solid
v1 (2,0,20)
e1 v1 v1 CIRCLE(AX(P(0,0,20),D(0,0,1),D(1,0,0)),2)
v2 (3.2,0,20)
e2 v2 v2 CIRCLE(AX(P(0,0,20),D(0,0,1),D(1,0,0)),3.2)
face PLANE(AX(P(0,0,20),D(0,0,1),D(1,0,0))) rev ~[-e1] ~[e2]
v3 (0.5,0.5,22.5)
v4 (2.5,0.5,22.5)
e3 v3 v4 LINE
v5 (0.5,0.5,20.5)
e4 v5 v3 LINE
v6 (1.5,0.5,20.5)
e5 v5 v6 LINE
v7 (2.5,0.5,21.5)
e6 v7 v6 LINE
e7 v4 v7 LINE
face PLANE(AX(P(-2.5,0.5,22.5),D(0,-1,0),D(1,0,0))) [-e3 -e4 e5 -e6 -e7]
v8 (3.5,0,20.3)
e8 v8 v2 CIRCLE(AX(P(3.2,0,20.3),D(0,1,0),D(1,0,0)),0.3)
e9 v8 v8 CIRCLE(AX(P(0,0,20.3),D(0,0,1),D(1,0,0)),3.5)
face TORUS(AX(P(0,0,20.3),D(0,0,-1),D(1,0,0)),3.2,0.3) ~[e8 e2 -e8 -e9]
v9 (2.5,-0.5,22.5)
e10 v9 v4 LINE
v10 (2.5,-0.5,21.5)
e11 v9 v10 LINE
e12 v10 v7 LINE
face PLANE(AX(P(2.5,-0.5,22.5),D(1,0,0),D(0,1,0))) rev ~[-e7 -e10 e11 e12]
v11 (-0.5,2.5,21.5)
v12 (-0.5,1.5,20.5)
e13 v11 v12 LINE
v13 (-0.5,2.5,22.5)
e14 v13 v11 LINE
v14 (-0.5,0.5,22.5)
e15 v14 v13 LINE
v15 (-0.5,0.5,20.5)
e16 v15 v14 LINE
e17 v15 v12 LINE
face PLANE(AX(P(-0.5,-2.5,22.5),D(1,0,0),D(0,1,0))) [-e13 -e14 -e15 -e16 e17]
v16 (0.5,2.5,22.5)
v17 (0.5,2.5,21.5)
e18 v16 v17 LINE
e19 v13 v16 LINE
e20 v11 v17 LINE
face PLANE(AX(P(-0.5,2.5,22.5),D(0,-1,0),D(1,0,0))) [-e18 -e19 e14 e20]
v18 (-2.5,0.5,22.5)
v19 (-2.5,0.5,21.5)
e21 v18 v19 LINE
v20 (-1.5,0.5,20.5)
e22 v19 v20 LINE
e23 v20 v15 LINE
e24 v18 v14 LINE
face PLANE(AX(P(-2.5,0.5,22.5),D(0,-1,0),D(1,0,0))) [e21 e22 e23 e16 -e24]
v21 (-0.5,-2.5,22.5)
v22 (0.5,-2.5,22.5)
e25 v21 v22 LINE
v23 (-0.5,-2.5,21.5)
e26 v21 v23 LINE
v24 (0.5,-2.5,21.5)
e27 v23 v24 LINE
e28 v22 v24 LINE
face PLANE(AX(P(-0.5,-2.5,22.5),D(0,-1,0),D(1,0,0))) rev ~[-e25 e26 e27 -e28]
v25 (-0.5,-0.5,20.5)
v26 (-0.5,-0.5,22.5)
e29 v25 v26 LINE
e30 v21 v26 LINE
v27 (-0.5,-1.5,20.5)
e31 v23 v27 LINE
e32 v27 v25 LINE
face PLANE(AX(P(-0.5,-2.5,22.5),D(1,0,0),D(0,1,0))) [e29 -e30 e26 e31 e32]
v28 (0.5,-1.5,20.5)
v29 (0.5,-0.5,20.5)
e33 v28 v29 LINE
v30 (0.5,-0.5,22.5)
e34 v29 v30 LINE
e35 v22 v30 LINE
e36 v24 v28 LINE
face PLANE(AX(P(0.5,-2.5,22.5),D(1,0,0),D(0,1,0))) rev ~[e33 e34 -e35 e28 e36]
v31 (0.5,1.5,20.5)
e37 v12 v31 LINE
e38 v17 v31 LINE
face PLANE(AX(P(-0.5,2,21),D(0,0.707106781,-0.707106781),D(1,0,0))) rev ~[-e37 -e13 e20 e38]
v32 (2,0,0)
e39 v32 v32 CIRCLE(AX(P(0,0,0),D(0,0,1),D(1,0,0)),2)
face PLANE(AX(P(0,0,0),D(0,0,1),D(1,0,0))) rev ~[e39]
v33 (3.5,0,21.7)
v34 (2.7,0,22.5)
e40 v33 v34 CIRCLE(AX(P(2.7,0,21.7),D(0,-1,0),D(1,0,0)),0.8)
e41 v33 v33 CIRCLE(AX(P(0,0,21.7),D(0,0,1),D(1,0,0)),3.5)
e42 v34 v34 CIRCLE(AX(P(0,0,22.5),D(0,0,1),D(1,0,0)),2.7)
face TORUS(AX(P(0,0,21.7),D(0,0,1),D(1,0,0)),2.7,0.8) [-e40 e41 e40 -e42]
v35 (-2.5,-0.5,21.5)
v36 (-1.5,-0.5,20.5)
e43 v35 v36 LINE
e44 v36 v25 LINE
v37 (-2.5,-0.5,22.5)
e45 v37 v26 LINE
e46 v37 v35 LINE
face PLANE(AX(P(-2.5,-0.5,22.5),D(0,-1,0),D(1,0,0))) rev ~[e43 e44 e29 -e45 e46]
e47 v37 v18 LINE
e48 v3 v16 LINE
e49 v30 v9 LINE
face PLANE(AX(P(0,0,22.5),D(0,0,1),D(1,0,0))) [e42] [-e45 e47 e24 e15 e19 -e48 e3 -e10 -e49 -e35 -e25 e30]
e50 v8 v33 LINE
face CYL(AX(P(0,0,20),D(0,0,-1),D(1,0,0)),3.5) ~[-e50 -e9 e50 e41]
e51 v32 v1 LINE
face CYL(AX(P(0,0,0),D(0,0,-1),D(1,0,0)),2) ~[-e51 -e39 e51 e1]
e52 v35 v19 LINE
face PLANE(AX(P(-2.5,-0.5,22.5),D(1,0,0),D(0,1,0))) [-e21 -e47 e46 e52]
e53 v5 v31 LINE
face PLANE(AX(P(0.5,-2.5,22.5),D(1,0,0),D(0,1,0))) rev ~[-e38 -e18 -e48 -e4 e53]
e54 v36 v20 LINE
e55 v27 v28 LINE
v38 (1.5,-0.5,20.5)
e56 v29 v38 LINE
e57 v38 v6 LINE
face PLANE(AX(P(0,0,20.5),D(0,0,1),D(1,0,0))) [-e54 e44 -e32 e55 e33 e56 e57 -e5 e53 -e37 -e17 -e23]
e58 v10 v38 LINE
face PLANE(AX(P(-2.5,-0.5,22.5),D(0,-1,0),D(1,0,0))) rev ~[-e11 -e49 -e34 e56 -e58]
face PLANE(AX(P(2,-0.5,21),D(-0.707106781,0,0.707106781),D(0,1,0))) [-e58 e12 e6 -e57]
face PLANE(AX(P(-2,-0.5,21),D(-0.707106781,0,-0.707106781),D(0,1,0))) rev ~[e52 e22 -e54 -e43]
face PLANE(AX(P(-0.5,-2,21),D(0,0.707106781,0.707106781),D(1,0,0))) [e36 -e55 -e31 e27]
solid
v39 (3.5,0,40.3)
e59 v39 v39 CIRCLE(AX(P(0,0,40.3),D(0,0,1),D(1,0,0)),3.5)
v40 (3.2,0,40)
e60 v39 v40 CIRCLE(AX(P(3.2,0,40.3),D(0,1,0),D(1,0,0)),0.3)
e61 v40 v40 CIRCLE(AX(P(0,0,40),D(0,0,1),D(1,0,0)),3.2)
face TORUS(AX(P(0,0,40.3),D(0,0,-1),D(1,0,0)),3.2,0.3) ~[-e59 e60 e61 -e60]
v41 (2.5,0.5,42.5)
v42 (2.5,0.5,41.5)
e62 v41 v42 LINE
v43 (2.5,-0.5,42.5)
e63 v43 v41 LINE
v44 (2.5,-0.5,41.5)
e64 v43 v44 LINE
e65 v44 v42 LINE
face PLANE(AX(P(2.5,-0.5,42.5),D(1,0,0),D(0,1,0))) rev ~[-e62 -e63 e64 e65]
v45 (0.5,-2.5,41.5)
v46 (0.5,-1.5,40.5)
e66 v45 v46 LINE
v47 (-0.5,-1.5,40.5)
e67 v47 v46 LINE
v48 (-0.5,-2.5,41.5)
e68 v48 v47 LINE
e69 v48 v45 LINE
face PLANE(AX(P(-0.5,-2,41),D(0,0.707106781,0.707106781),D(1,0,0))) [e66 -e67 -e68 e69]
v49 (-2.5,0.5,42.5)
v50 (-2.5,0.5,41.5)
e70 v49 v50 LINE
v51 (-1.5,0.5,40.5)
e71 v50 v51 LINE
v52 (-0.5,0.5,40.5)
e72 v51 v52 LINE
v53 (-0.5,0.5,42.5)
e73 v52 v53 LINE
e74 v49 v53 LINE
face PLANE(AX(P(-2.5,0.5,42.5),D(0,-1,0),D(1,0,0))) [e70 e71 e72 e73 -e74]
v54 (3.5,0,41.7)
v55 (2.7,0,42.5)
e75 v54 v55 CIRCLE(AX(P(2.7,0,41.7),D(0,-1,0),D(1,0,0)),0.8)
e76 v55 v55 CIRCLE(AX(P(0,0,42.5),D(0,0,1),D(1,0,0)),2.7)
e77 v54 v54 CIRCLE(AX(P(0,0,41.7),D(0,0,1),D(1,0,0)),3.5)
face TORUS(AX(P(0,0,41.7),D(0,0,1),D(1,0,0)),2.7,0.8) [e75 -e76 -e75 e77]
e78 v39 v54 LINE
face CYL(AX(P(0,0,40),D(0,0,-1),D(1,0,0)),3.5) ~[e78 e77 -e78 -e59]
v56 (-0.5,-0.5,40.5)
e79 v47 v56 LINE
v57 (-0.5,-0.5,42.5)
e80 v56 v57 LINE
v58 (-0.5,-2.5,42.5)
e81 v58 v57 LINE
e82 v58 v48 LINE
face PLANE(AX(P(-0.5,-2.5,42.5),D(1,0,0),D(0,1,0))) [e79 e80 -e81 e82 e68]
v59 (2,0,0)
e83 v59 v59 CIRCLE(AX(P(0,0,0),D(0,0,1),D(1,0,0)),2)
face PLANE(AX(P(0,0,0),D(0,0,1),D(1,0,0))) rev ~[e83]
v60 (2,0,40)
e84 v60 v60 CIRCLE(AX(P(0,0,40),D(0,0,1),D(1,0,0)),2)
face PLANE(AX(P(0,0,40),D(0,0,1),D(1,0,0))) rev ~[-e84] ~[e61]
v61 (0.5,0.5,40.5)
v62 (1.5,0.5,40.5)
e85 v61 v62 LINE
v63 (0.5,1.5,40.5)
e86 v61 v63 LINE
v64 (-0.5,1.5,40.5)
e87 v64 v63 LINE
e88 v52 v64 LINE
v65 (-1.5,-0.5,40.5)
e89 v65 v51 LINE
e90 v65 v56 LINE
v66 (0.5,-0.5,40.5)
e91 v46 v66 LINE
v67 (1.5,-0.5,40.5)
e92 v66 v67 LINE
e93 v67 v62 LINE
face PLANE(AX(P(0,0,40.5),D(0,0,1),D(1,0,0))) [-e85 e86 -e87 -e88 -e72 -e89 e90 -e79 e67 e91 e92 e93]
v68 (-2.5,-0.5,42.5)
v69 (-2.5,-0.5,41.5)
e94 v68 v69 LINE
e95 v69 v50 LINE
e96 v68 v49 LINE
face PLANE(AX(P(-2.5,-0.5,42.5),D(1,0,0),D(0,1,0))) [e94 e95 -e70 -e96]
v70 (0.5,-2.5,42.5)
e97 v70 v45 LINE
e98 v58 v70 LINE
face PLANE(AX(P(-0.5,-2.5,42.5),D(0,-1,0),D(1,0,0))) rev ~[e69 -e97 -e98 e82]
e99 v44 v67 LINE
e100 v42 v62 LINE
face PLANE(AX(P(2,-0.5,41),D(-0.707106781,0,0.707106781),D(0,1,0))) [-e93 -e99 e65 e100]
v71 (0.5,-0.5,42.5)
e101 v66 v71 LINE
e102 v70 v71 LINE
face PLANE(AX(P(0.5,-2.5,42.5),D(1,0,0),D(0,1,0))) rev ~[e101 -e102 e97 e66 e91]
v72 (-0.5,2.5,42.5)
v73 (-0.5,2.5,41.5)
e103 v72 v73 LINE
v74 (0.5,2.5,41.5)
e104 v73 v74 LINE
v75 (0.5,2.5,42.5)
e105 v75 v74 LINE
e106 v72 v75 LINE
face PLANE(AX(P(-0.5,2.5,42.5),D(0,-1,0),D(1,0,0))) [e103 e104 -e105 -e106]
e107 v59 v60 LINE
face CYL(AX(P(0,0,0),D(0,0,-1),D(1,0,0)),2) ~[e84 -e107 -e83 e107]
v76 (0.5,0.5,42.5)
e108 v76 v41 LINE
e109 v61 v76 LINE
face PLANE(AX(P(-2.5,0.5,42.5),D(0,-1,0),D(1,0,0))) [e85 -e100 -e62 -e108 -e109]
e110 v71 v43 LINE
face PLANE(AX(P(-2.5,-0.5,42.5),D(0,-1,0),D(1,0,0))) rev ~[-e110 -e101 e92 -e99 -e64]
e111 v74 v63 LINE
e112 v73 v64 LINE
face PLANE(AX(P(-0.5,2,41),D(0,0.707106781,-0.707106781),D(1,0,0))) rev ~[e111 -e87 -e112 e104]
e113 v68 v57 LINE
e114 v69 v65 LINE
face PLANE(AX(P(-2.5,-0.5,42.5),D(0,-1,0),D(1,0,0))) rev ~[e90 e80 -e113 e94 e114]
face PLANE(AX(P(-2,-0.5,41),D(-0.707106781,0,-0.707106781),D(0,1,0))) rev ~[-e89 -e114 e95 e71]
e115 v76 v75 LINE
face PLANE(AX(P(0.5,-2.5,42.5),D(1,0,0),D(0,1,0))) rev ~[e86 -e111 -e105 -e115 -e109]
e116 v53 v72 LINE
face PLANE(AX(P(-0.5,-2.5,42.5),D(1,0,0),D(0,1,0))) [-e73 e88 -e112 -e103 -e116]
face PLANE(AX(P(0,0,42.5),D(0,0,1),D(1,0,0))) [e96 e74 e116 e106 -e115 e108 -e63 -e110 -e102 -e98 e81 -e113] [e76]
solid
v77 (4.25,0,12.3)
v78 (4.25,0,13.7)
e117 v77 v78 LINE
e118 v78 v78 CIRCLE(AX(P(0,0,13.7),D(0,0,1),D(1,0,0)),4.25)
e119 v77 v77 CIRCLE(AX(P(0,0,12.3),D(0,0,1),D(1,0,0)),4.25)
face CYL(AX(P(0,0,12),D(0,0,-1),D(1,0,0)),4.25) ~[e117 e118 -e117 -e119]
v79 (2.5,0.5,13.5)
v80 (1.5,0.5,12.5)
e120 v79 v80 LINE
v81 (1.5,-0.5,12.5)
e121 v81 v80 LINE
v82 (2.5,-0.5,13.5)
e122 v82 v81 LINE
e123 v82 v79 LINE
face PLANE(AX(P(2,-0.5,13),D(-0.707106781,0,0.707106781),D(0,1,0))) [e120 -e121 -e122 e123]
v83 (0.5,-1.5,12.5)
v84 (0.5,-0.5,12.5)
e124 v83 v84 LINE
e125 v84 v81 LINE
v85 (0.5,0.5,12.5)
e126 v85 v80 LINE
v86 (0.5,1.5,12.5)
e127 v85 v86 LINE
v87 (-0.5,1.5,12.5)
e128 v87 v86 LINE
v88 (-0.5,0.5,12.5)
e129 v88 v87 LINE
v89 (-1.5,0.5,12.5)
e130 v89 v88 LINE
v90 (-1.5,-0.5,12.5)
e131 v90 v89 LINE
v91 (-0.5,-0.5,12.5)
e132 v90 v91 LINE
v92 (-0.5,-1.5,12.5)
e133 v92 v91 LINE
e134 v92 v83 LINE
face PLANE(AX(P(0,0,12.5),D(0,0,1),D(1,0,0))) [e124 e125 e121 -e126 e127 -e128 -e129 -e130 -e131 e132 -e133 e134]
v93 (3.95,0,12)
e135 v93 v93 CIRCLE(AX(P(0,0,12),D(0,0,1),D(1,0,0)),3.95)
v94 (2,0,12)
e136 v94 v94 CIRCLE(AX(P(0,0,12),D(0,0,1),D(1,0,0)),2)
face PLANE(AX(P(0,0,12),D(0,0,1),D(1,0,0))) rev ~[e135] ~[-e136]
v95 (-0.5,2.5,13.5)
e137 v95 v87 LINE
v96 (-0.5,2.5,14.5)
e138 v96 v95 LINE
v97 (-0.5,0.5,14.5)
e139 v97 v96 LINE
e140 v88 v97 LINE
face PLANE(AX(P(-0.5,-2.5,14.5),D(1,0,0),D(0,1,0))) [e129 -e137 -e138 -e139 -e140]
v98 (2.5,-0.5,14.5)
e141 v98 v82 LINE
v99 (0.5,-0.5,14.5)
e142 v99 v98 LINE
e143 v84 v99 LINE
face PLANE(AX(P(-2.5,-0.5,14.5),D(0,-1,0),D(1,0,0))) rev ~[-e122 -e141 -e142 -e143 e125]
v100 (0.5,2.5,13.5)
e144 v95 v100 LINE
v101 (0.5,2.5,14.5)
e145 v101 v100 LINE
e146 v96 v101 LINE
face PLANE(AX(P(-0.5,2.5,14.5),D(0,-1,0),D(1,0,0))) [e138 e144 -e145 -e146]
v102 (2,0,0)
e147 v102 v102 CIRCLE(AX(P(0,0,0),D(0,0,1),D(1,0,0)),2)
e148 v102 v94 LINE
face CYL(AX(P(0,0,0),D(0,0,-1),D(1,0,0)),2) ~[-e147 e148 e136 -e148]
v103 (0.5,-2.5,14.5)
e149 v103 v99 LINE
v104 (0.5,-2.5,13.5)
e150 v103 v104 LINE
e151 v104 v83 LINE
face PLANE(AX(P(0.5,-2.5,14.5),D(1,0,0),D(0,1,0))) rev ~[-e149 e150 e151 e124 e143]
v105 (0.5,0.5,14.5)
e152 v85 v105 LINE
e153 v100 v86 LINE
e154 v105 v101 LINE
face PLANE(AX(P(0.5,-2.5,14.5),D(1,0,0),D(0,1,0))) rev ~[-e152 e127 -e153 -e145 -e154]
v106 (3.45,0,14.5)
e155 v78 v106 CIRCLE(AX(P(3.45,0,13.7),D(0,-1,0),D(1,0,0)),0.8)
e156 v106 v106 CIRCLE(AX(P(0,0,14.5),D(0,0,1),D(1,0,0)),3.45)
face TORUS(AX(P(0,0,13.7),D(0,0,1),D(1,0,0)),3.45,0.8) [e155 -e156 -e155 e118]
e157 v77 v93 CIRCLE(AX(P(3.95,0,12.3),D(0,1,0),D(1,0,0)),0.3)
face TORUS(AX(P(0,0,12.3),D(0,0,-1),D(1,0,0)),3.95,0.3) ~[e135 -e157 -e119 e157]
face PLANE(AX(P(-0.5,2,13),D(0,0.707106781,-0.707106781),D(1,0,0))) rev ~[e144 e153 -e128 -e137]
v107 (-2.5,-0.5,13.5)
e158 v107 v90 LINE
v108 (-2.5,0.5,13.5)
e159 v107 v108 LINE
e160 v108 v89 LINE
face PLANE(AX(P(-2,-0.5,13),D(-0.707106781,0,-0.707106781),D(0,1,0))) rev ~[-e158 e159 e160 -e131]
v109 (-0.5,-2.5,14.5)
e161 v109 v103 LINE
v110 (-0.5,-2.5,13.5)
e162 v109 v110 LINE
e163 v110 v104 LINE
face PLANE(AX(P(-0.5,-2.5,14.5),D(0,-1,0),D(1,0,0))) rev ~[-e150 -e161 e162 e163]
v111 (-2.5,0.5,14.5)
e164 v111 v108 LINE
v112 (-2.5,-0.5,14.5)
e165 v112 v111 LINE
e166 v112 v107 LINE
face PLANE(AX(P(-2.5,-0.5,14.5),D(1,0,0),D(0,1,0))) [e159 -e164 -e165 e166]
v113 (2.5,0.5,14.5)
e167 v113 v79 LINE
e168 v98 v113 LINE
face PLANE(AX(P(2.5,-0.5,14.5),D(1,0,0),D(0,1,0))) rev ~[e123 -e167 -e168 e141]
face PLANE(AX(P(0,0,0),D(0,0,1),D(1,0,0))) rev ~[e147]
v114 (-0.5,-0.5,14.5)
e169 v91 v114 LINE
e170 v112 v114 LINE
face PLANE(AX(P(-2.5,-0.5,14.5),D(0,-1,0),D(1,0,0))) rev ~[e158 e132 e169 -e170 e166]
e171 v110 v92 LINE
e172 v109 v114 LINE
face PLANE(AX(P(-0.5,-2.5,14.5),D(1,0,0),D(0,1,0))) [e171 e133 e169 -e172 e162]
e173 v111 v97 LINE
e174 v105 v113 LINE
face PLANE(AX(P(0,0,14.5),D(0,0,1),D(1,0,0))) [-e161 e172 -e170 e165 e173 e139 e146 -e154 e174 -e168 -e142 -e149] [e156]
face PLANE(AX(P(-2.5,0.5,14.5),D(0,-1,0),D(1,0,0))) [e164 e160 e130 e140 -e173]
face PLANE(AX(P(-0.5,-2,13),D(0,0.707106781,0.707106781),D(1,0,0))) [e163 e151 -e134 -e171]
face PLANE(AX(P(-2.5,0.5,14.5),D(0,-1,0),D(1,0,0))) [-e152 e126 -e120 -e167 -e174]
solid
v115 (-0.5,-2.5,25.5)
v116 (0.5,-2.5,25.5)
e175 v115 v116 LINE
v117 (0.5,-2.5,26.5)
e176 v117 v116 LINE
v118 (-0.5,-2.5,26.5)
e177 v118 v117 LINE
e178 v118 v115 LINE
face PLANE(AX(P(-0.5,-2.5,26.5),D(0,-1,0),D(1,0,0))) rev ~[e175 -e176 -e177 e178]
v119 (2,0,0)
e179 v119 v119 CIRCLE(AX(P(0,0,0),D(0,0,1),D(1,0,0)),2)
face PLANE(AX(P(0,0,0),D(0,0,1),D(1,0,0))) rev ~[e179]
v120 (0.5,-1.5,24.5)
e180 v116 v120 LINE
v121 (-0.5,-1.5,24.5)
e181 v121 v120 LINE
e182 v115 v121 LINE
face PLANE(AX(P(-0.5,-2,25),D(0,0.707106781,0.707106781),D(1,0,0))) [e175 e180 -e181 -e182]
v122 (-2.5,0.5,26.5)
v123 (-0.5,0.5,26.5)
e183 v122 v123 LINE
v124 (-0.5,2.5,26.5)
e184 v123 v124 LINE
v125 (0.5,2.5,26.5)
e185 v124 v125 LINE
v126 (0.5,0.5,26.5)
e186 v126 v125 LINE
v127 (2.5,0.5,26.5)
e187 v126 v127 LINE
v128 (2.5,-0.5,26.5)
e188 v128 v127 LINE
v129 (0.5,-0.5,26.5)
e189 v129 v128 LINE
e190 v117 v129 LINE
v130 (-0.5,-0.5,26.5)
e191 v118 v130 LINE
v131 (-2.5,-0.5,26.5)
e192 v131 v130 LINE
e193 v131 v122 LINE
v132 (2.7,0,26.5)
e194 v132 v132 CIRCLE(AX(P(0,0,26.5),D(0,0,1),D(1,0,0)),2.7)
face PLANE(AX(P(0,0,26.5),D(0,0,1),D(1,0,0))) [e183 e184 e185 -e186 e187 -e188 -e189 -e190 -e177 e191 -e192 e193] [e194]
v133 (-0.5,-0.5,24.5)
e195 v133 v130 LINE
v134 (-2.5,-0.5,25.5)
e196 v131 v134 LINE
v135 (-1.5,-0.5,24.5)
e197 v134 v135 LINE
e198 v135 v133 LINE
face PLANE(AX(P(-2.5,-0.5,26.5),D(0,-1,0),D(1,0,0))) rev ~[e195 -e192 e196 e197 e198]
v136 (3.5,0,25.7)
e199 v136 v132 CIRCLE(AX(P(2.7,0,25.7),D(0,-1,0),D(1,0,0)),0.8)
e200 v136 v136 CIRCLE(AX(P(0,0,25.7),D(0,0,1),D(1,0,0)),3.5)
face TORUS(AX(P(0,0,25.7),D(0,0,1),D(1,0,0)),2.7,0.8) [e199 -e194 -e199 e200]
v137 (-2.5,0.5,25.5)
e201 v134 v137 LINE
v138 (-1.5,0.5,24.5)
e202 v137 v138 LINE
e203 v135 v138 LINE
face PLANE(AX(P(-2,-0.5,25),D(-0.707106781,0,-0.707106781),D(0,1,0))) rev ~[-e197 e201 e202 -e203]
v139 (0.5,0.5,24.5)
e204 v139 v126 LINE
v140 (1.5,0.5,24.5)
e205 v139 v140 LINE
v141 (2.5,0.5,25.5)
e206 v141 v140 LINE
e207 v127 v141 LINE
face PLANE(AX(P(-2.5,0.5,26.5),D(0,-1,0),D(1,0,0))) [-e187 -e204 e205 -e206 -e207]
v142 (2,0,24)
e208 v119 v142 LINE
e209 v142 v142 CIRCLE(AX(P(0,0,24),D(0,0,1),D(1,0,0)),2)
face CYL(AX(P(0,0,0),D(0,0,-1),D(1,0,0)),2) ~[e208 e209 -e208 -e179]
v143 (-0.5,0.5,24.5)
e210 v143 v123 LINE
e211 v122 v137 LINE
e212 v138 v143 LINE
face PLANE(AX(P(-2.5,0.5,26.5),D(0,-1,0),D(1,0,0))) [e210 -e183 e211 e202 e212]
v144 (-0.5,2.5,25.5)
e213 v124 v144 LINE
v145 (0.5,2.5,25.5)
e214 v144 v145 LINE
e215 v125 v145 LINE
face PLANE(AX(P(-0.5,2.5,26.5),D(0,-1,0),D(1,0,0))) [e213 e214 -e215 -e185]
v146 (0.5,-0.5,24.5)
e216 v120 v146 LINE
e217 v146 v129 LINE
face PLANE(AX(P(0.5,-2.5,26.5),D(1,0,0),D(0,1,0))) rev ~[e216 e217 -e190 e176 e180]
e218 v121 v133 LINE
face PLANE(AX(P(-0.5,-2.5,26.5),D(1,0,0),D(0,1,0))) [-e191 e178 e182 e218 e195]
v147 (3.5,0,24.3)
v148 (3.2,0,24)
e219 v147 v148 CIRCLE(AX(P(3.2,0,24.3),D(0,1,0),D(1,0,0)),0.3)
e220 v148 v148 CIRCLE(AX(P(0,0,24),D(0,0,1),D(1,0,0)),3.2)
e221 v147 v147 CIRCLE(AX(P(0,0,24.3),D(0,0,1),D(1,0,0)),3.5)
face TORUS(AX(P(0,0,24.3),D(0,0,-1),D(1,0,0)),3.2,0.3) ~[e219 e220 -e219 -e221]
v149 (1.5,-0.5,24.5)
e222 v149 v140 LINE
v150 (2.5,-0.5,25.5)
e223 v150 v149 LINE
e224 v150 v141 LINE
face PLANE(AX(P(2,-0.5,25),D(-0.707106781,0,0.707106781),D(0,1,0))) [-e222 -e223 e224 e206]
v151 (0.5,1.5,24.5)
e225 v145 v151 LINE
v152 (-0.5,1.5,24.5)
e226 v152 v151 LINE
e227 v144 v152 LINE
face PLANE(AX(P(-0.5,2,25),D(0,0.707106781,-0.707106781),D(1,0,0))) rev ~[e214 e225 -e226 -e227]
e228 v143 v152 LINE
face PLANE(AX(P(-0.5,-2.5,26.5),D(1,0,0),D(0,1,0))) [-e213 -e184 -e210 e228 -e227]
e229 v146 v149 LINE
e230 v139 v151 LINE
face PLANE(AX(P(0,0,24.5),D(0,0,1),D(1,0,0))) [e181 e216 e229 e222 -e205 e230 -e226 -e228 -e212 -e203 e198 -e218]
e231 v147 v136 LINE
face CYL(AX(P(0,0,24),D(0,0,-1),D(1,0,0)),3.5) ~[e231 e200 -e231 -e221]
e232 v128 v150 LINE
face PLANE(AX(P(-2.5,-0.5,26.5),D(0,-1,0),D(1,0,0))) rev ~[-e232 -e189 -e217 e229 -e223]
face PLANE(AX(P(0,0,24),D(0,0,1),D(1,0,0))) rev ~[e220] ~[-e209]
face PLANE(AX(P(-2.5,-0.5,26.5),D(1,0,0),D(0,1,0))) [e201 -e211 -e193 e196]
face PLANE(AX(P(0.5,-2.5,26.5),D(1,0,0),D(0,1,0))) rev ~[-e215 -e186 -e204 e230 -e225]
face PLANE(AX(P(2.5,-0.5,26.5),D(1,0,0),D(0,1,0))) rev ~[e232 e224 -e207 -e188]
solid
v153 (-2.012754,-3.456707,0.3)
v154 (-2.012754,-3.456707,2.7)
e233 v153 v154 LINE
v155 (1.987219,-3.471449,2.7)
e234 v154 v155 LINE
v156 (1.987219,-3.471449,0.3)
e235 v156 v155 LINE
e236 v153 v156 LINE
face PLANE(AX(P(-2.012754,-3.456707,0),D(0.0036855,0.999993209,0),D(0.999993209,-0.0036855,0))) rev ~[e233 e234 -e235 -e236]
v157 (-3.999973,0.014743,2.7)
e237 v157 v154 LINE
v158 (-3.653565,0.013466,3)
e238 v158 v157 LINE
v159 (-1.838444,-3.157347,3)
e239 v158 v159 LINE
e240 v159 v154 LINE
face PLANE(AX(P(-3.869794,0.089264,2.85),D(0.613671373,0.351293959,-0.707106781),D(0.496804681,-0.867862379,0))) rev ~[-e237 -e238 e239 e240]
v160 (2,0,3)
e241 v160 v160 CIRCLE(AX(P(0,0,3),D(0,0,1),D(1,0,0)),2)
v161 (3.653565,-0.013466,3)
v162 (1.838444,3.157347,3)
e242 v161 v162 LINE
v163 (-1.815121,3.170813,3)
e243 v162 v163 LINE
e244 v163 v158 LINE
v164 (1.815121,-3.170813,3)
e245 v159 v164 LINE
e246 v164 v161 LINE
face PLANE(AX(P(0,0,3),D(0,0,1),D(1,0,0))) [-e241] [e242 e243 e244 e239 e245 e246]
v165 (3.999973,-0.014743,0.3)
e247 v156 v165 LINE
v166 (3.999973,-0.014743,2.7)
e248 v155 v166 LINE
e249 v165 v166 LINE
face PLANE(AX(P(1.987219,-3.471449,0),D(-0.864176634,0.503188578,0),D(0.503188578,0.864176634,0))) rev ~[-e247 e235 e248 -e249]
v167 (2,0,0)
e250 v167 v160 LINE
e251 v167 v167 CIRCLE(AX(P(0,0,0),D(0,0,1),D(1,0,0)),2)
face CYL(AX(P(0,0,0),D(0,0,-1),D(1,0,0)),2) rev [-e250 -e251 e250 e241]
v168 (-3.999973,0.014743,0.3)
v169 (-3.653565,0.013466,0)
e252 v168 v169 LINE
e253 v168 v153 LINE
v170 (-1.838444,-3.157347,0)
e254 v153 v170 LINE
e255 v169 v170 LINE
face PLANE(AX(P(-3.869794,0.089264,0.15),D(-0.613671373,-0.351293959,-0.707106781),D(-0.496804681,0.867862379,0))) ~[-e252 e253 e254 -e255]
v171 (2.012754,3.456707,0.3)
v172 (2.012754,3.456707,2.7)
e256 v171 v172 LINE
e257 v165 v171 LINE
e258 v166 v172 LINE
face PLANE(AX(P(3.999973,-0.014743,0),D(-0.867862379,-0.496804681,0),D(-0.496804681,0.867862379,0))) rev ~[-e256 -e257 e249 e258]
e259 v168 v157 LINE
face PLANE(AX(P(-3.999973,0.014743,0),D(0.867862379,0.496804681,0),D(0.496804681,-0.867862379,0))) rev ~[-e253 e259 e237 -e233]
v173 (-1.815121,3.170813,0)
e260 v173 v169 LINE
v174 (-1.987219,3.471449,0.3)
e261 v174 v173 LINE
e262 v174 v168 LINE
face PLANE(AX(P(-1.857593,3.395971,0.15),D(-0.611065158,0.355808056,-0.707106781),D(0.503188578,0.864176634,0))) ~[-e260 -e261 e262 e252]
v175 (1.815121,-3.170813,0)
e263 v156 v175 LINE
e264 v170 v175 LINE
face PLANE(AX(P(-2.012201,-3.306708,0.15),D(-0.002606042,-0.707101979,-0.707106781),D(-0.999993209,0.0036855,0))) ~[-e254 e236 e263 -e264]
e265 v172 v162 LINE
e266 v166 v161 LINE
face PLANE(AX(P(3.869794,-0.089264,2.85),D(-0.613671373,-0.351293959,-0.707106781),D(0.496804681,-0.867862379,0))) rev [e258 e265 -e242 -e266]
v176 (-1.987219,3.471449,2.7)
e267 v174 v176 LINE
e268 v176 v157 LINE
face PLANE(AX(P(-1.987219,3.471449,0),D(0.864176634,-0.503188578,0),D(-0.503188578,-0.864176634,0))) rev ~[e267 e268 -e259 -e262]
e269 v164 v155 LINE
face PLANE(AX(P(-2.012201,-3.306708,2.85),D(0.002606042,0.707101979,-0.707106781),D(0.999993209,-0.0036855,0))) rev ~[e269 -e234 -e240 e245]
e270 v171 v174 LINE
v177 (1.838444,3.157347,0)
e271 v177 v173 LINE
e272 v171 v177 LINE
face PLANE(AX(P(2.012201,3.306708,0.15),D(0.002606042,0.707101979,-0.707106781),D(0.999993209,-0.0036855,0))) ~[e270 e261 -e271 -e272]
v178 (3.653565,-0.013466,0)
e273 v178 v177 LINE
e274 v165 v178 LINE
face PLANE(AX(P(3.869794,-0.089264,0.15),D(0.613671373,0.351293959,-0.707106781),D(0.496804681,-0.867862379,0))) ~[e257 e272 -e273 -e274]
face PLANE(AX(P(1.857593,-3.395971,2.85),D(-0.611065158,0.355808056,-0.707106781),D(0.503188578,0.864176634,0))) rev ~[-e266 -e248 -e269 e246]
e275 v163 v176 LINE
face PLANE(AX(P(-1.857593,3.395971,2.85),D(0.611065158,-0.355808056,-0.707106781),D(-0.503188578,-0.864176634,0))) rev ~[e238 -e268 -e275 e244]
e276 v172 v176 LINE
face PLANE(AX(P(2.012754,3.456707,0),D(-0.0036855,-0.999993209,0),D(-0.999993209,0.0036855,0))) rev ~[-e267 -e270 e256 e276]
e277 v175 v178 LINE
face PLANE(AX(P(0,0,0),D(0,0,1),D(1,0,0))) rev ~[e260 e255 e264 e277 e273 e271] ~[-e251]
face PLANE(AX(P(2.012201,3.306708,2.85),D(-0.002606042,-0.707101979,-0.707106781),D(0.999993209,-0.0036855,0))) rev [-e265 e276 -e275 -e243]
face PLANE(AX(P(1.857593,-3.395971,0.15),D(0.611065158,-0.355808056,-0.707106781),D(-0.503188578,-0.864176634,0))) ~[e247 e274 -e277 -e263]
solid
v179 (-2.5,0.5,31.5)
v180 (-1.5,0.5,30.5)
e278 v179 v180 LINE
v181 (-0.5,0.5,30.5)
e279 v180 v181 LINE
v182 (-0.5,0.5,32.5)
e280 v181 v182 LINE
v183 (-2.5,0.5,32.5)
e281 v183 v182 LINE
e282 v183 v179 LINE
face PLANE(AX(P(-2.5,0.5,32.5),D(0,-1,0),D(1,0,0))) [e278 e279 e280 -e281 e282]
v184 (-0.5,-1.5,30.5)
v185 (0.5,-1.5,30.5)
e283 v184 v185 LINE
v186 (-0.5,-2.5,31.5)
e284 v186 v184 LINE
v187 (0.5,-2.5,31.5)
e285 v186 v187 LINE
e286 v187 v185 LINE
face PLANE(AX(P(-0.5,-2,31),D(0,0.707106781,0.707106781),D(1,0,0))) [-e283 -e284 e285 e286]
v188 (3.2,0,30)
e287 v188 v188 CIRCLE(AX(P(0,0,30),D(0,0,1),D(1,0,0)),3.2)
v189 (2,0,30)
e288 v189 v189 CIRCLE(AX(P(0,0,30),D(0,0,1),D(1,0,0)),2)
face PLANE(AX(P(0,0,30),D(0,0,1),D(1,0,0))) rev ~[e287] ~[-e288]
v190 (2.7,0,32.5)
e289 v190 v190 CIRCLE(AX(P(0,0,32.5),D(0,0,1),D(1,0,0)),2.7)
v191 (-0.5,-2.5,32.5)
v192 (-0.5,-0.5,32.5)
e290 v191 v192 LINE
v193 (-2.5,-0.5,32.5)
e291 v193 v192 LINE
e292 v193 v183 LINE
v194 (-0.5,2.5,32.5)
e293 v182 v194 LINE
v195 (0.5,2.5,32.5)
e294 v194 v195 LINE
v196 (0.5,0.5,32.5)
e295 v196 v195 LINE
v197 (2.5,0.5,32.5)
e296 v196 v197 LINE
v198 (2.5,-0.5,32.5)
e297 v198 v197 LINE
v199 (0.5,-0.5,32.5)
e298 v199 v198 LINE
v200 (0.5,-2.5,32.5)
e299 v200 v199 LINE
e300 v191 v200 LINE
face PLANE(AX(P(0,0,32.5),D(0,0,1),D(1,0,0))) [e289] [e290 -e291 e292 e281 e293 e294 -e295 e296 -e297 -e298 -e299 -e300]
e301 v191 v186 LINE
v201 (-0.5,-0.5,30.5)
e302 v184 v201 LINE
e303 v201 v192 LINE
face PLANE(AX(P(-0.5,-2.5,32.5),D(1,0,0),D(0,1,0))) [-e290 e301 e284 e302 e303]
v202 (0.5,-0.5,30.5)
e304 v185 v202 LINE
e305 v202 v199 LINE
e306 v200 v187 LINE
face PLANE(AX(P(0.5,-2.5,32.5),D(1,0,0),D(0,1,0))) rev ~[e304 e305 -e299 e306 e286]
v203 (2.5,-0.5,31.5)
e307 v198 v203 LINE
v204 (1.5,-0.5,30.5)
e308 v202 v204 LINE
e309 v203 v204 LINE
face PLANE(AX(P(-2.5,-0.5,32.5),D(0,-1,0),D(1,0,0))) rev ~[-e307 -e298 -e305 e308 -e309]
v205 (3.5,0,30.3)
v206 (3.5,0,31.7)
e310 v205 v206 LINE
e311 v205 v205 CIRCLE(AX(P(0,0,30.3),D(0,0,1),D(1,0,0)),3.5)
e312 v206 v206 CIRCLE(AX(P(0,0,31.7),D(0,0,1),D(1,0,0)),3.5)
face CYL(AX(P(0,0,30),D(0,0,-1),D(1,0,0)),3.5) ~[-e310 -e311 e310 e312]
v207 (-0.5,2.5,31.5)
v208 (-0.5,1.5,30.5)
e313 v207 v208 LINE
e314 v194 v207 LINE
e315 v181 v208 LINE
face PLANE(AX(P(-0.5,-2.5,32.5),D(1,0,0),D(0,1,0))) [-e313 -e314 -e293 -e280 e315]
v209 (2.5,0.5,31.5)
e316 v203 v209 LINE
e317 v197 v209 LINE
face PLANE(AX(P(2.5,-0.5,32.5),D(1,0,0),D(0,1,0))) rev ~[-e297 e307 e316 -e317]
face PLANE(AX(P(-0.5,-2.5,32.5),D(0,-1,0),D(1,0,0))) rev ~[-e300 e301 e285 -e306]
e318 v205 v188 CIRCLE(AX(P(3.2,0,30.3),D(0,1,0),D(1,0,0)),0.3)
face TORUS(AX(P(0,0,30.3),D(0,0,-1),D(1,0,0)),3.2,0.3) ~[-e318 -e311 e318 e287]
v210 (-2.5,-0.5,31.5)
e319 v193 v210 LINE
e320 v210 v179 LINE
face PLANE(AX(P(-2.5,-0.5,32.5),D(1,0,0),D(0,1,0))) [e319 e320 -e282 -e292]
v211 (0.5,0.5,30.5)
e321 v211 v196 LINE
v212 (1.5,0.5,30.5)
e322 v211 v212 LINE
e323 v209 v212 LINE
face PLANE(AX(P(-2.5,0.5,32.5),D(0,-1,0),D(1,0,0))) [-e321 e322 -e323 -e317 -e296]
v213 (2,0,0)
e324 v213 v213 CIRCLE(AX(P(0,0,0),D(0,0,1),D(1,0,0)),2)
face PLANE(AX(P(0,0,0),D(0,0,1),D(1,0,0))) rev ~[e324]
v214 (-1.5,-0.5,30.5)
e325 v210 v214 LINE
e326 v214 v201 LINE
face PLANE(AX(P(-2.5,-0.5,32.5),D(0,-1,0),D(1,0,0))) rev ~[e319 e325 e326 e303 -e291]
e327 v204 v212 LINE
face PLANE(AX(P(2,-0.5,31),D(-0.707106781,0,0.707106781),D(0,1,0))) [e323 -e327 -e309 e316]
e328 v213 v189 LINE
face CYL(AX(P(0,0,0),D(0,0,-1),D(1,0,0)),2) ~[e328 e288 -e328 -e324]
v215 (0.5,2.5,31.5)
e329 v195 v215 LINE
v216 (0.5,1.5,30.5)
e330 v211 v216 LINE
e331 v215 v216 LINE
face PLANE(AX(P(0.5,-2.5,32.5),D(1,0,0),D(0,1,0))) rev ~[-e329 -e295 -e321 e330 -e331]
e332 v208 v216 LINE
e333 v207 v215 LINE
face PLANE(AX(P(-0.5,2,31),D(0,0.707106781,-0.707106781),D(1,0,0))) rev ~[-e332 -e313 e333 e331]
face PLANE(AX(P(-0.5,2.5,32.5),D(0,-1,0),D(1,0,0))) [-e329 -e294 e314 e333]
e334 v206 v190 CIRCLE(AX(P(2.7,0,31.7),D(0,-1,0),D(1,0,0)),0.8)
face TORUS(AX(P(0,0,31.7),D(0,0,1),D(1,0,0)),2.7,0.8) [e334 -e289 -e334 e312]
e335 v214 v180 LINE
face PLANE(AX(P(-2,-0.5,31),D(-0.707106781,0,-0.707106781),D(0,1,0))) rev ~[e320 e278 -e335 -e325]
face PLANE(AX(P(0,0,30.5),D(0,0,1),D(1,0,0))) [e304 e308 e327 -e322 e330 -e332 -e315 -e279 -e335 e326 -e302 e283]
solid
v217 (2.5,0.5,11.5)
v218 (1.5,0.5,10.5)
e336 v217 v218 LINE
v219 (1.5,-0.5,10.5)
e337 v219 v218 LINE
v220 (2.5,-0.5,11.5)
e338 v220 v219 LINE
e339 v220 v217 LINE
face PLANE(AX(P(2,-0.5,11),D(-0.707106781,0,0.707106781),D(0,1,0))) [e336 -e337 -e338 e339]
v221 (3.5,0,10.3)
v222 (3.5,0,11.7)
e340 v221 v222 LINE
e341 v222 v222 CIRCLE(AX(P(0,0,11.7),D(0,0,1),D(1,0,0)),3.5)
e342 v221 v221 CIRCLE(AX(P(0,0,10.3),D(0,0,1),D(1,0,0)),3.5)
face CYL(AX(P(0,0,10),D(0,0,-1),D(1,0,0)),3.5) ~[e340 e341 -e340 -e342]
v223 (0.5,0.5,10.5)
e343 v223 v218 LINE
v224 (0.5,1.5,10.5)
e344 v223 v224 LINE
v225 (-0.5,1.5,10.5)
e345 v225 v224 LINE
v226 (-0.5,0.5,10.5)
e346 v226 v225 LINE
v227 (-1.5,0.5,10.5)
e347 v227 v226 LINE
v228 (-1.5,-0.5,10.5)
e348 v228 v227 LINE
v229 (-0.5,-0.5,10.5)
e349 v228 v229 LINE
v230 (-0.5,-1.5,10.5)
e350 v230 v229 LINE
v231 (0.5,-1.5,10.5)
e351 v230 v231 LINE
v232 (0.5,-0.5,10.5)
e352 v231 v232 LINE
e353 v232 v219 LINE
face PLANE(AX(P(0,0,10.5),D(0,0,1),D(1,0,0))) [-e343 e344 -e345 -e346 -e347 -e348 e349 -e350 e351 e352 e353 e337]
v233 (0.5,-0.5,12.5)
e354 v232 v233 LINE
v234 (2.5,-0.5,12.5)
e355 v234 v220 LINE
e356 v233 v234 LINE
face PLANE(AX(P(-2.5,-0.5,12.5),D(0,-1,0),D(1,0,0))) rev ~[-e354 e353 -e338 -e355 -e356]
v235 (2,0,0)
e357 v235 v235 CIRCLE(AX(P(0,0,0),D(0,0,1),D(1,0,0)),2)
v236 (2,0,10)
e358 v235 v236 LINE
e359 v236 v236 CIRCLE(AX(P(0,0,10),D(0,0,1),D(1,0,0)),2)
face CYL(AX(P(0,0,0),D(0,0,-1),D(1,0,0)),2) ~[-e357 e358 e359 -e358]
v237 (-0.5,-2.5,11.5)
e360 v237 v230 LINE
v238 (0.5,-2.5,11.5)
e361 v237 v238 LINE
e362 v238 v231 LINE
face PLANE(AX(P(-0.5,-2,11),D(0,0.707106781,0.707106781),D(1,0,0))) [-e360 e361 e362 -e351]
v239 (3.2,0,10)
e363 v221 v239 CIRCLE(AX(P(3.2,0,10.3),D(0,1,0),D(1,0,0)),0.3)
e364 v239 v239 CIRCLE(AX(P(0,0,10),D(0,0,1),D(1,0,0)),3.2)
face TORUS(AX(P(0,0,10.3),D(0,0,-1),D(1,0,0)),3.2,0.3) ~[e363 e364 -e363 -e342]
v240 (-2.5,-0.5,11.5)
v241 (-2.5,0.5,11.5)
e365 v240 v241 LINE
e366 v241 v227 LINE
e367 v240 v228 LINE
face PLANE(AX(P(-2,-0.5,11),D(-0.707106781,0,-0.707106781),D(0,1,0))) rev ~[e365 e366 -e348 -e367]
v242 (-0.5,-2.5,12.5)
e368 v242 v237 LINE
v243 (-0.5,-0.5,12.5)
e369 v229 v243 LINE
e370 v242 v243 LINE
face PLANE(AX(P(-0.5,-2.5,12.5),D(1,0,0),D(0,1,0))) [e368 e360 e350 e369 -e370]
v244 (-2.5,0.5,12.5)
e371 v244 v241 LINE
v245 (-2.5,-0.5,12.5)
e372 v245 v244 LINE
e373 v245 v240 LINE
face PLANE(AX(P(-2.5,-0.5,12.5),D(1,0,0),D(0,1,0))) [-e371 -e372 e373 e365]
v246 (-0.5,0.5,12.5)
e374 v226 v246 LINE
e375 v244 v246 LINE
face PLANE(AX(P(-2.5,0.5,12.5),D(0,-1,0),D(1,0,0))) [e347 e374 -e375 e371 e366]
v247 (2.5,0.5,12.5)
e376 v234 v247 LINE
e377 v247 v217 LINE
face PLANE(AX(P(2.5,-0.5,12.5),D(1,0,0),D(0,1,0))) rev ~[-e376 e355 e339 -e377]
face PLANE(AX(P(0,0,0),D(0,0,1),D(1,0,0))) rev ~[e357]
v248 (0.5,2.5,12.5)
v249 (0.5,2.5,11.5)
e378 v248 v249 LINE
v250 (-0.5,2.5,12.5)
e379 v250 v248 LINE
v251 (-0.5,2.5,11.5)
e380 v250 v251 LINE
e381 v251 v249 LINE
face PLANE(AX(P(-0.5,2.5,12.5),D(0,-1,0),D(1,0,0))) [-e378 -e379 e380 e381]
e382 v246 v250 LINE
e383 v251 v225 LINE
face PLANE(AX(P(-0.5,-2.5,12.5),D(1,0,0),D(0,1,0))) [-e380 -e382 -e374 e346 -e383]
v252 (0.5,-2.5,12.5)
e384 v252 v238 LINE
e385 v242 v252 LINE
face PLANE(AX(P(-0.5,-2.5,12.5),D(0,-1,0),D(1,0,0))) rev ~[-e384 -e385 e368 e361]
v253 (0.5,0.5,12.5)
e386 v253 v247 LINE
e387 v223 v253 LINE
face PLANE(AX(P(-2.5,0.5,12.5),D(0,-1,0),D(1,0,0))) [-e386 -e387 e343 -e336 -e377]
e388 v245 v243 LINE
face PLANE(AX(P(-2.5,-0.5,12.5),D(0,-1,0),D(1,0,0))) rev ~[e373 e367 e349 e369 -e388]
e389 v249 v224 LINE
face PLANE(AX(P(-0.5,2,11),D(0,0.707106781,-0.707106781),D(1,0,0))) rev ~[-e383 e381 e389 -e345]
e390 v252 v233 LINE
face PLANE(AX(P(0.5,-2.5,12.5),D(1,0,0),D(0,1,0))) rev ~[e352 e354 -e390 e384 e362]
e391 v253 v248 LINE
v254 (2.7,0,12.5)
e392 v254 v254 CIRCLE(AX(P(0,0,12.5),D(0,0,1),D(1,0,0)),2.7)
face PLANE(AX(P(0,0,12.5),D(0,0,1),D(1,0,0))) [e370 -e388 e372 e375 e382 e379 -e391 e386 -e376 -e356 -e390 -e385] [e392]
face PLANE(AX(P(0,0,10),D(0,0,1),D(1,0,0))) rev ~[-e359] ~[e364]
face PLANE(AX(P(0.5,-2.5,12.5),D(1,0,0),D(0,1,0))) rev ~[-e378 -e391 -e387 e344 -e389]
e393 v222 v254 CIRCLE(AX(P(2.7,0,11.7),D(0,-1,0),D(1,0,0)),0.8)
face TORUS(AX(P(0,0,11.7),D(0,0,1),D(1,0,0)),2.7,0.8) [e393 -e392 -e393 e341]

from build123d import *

# Parameters (mm, degrees)
SKETCH_R        = 2
PAD_DEPTH       = 10
SKETCH001_R     = 3.5
PAD001_DEPTH    = 2.5
SKETCH002_W     = 5
SKETCH002_H     = 1
POCKET_DEPTH    = 2
SKETCH003_W     = 1
SKETCH003_H     = 5
POCKET001_DEPTH = 2
FILLET_R        = 0.8
CHAMFER_SIZE    = 1
FILLET001_R     = 0.3
SKETCH004_R     = 2
PAD002_DEPTH    = 3
CHAMFER001_SIZE = 0.3
CHAMFER002_SIZE = 0.3
SKETCH006_R     = 2
PAD004_DEPTH    = 30
SKETCH005_R     = 3.5
PAD003_DEPTH    = 2.5
SKETCH008_W     = 5
SKETCH008_H     = 1
POCKET003_DEPTH = 2
SKETCH007_W     = 1
SKETCH007_H     = 5
POCKET002_DEPTH = 2
FILLET003_R     = 0.8
CHAMFER003_SIZE = 1
FILLET002_R     = 0.3
SKETCH010_R     = 2
PAD006_DEPTH    = 24
SKETCH009_R     = 3.5
PAD005_DEPTH    = 2.5
SKETCH012_W     = 5
SKETCH012_H     = 1
POCKET005_DEPTH = 2
SKETCH011_W     = 1
SKETCH011_H     = 5
POCKET004_DEPTH = 2
FILLET005_R     = 0.8
CHAMFER004_SIZE = 1
FILLET004_R     = 0.3
SKETCH013_R     = 2
PAD008_DEPTH    = 40
SKETCH014_R     = 3.5
PAD007_DEPTH    = 2.5
SKETCH016_W     = 5
SKETCH016_H     = 1
POCKET006_DEPTH = 2
SKETCH015_W     = 1
SKETCH015_H     = 5
POCKET007_DEPTH = 2
FILLET006_R     = 0.8
CHAMFER005_SIZE = 1
FILLET007_R     = 0.3
SKETCH018_R     = 2
PAD010_DEPTH    = 12
SKETCH017_R     = 4.25
PAD009_DEPTH    = 2.5
SKETCH020_W     = 5
SKETCH020_H     = 1
POCKET009_DEPTH = 2
SKETCH019_W     = 1
SKETCH019_H     = 5
POCKET008_DEPTH = 2
FILLET009_R     = 0.8
CHAMFER006_SIZE = 1
FILLET008_R     = 0.3
SKETCH021_R     = 2
PAD012_DEPTH    = 20
SKETCH024_R     = 3.5
PAD011_DEPTH    = 2.5
SKETCH022_W     = 5
SKETCH022_H     = 1
POCKET011_DEPTH = 2
SKETCH023_W     = 1
SKETCH023_H     = 5
POCKET010_DEPTH = 2
FILLET011_R     = 0.8
CHAMFER007_SIZE = 1
FILLET010_R     = 0.3


with BuildPart() as m4_10mm:
    # Sketch → Pad (new body)
    with BuildSketch(Plane.XY):
        Circle(SKETCH_R)
    extrude(amount=PAD_DEPTH)

    # Sketch001 (on Face3 of Pad) → Pad001 (join)
    with BuildSketch(Plane.XY.offset(10)):
        Circle(SKETCH001_R)
    extrude(amount=PAD001_DEPTH)

    # Sketch002 (on Face3 of Pad001) → Pocket (cut)
    with BuildSketch(Plane.XY.offset(12.5)):
        Rectangle(SKETCH002_W, SKETCH002_H)
    extrude(amount=-POCKET_DEPTH, mode=Mode.SUBTRACT)

    # Sketch003 (on Face3 of Pocket) → Pocket001 (cut)
    with BuildSketch(Plane.XY.offset(12.5)):
        Rectangle(SKETCH003_W, SKETCH003_H)
    extrude(amount=-POCKET001_DEPTH, mode=Mode.SUBTRACT)

    # Fillet
    fillet_edges = [m4_10mm.edges().sort_by_distance(p)[0] for p in [
        (-3.5, 0, 12.5),
    ]]
    fillet(fillet_edges, radius=FILLET_R)

    # Chamfer
    chamfer_edges = [m4_10mm.edges().sort_by_distance(p)[0] for p in [
        (2.5, 0, 10.5),
        (0, 2.5, 10.5),
        (-2.5, 0, 10.5),
        (0, -2.5, 10.5),
    ]]
    chamfer(chamfer_edges, length=CHAMFER_SIZE)

    # Fillet001
    fillet001_edges = [m4_10mm.edges().sort_by_distance(p)[0] for p in [
        (-3.5, 0, 10),
    ]]
    fillet(fillet001_edges, radius=FILLET001_R)


with BuildPart() as m4_nut:
    # Sketch004 → Pad002 (new body)
    with BuildSketch(Plane.XY):
        Polygon((2.012754, 3.456707), (-1.987219, 3.471449), (-3.999973, 0.014743), (-2.012754, -3.456707), (1.987219, -3.471449), (3.999973, -0.014743), align=None)
        Circle(SKETCH004_R, mode=Mode.SUBTRACT)
    extrude(amount=PAD002_DEPTH)

    # Chamfer001
    chamfer001_edges = [m4_nut.edges().sort_by_distance(p)[0] for p in [
        (-3.006363, -1.720982, 0),
        (-0.012767, -3.464078, 0),
        (2.993596, -1.743096, 0),
        (3.006363, 1.720982, 0),
        (0.012767, 3.464078, 0),
        (-2.993596, 1.743096, 0),
    ]]
    chamfer(chamfer001_edges, length=CHAMFER001_SIZE)

    # Chamfer002
    chamfer002_edges = [m4_nut.edges().sort_by_distance(p)[0] for p in [
        (-0.012767, -3.464078, 3),
        (-3.006363, -1.720982, 3),
        (-2.993596, 1.743096, 3),
        (0.012767, 3.464078, 3),
        (3.006363, 1.720982, 3),
        (2.993596, -1.743096, 3),
    ]]
    chamfer(chamfer002_edges, length=CHAMFER002_SIZE)


with BuildPart() as m4_30mm:
    # Sketch006 → Pad004 (new body)
    with BuildSketch(Plane.XY):
        Circle(SKETCH006_R)
    extrude(amount=PAD004_DEPTH)

    # Sketch005 (on Face3 of Pad004) → Pad003 (join)
    with BuildSketch(Plane.XY.offset(30)):
        Circle(SKETCH005_R)
    extrude(amount=PAD003_DEPTH)

    # Sketch008 (on Face3 of Pad003) → Pocket003 (cut)
    with BuildSketch(Plane.XY.offset(32.5)):
        Rectangle(SKETCH008_W, SKETCH008_H)
    extrude(amount=-POCKET003_DEPTH, mode=Mode.SUBTRACT)

    # Sketch007 (on Face3 of Pocket003) → Pocket002 (cut)
    with BuildSketch(Plane.XY.offset(32.5)):
        Rectangle(SKETCH007_W, SKETCH007_H)
    extrude(amount=-POCKET002_DEPTH, mode=Mode.SUBTRACT)

    # Fillet003
    fillet003_edges = [m4_30mm.edges().sort_by_distance(p)[0] for p in [
        (-3.5, 0, 32.5),
    ]]
    fillet(fillet003_edges, radius=FILLET003_R)

    # Chamfer003
    chamfer003_edges = [m4_30mm.edges().sort_by_distance(p)[0] for p in [
        (2.5, 0, 30.5),
        (0, 2.5, 30.5),
        (-2.5, 0, 30.5),
        (0, -2.5, 30.5),
    ]]
    chamfer(chamfer003_edges, length=CHAMFER003_SIZE)

    # Fillet002
    fillet002_edges = [m4_30mm.edges().sort_by_distance(p)[0] for p in [
        (-3.5, 0, 30),
    ]]
    fillet(fillet002_edges, radius=FILLET002_R)


with BuildPart() as m4_24mm:
    # Sketch010 → Pad006 (new body)
    with BuildSketch(Plane.XY):
        Circle(SKETCH010_R)
    extrude(amount=PAD006_DEPTH)

    # Sketch009 (on Face3 of Pad006) → Pad005 (join)
    with BuildSketch(Plane.XY.offset(24)):
        Circle(SKETCH009_R)
    extrude(amount=PAD005_DEPTH)

    # Sketch012 (on Face3 of Pad005) → Pocket005 (cut)
    with BuildSketch(Plane.XY.offset(26.5)):
        Rectangle(SKETCH012_W, SKETCH012_H)
    extrude(amount=-POCKET005_DEPTH, mode=Mode.SUBTRACT)

    # Sketch011 (on Face3 of Pocket005) → Pocket004 (cut)
    with BuildSketch(Plane.XY.offset(26.5)):
        Rectangle(SKETCH011_W, SKETCH011_H)
    extrude(amount=-POCKET004_DEPTH, mode=Mode.SUBTRACT)

    # Fillet005
    fillet005_edges = [m4_24mm.edges().sort_by_distance(p)[0] for p in [
        (-3.5, 0, 26.5),
    ]]
    fillet(fillet005_edges, radius=FILLET005_R)

    # Chamfer004
    chamfer004_edges = [m4_24mm.edges().sort_by_distance(p)[0] for p in [
        (2.5, 0, 24.5),
        (0, 2.5, 24.5),
        (-2.5, 0, 24.5),
        (0, -2.5, 24.5),
    ]]
    chamfer(chamfer004_edges, length=CHAMFER004_SIZE)

    # Fillet004
    fillet004_edges = [m4_24mm.edges().sort_by_distance(p)[0] for p in [
        (-3.5, 0, 24),
    ]]
    fillet(fillet004_edges, radius=FILLET004_R)


with BuildPart() as m4_40mm:
    # Sketch013 → Pad008 (new body)
    with BuildSketch(Plane.XY):
        Circle(SKETCH013_R)
    extrude(amount=PAD008_DEPTH)

    # Sketch014 (on Face3 of Pad008) → Pad007 (join)
    with BuildSketch(Plane.XY.offset(40)):
        Circle(SKETCH014_R)
    extrude(amount=PAD007_DEPTH)

    # Sketch016 (on Face3 of Pad007) → Pocket006 (cut)
    with BuildSketch(Plane.XY.offset(42.5)):
        Rectangle(SKETCH016_W, SKETCH016_H)
    extrude(amount=-POCKET006_DEPTH, mode=Mode.SUBTRACT)

    # Sketch015 (on Face3 of Pocket006) → Pocket007 (cut)
    with BuildSketch(Plane.XY.offset(42.5)):
        Rectangle(SKETCH015_W, SKETCH015_H)
    extrude(amount=-POCKET007_DEPTH, mode=Mode.SUBTRACT)

    # Fillet006
    fillet006_edges = [m4_40mm.edges().sort_by_distance(p)[0] for p in [
        (-3.5, 0, 42.5),
    ]]
    fillet(fillet006_edges, radius=FILLET006_R)

    # Chamfer005
    chamfer005_edges = [m4_40mm.edges().sort_by_distance(p)[0] for p in [
        (2.5, 0, 40.5),
        (0, 2.5, 40.5),
        (-2.5, 0, 40.5),
        (0, -2.5, 40.5),
    ]]
    chamfer(chamfer005_edges, length=CHAMFER005_SIZE)

    # Fillet007
    fillet007_edges = [m4_40mm.edges().sort_by_distance(p)[0] for p in [
        (-3.5, 0, 40),
    ]]
    fillet(fillet007_edges, radius=FILLET007_R)


with BuildPart() as m4_12mm:
    # Sketch018 → Pad010 (new body)
    with BuildSketch(Plane.XY):
        Circle(SKETCH018_R)
    extrude(amount=PAD010_DEPTH)

    # Sketch017 (on Face3 of Pad010) → Pad009 (join)
    with BuildSketch(Plane.XY.offset(12)):
        Circle(SKETCH017_R)
    extrude(amount=PAD009_DEPTH)

    # Sketch020 (on Face3 of Pad009) → Pocket009 (cut)
    with BuildSketch(Plane.XY.offset(14.5)):
        Rectangle(SKETCH020_W, SKETCH020_H)
    extrude(amount=-POCKET009_DEPTH, mode=Mode.SUBTRACT)

    # Sketch019 (on Face3 of Pocket009) → Pocket008 (cut)
    with BuildSketch(Plane.XY.offset(14.5)):
        Rectangle(SKETCH019_W, SKETCH019_H)
    extrude(amount=-POCKET008_DEPTH, mode=Mode.SUBTRACT)

    # Fillet009
    fillet009_edges = [m4_12mm.edges().sort_by_distance(p)[0] for p in [
        (-4.25, 0, 14.5),
    ]]
    fillet(fillet009_edges, radius=FILLET009_R)

    # Chamfer006
    chamfer006_edges = [m4_12mm.edges().sort_by_distance(p)[0] for p in [
        (2.5, 0, 12.5),
        (0, 2.5, 12.5),
        (-2.5, 0, 12.5),
        (0, -2.5, 12.5),
    ]]
    chamfer(chamfer006_edges, length=CHAMFER006_SIZE)

    # Fillet008
    fillet008_edges = [m4_12mm.edges().sort_by_distance(p)[0] for p in [
        (-4.25, 0, 12),
    ]]
    fillet(fillet008_edges, radius=FILLET008_R)


with BuildPart() as m4_20mm:
    # Sketch021 → Pad012 (new body)
    with BuildSketch(Plane.XY):
        Circle(SKETCH021_R)
    extrude(amount=PAD012_DEPTH)

    # Sketch024 (on Face3 of Pad012) → Pad011 (join)
    with BuildSketch(Plane.XY.offset(20)):
        Circle(SKETCH024_R)
    extrude(amount=PAD011_DEPTH)

    # Sketch022 (on Face3 of Pad011) → Pocket011 (cut)
    with BuildSketch(Plane.XY.offset(22.5)):
        Rectangle(SKETCH022_W, SKETCH022_H)
    extrude(amount=-POCKET011_DEPTH, mode=Mode.SUBTRACT)

    # Sketch023 (on Face3 of Pocket011) → Pocket010 (cut)
    with BuildSketch(Plane.XY.offset(22.5)):
        Rectangle(SKETCH023_W, SKETCH023_H)
    extrude(amount=-POCKET010_DEPTH, mode=Mode.SUBTRACT)

    # Fillet011
    fillet011_edges = [m4_20mm.edges().sort_by_distance(p)[0] for p in [
        (-3.5, 0, 22.5),
    ]]
    fillet(fillet011_edges, radius=FILLET011_R)

    # Chamfer007
    chamfer007_edges = [m4_20mm.edges().sort_by_distance(p)[0] for p in [
        (2.5, 0, 20.5),
        (0, 2.5, 20.5),
        (-2.5, 0, 20.5),
        (0, -2.5, 20.5),
    ]]
    chamfer(chamfer007_edges, length=CHAMFER007_SIZE)

    # Fillet010
    fillet010_edges = [m4_20mm.edges().sort_by_distance(p)[0] for p in [
        (-3.5, 0, 20),
    ]]
    fillet(fillet010_edges, radius=FILLET010_R)


solid = Compound([m4_10mm.part, m4_nut.part, m4_30mm.part, m4_24mm.part, m4_40mm.part, m4_12mm.part, m4_20mm.part])
